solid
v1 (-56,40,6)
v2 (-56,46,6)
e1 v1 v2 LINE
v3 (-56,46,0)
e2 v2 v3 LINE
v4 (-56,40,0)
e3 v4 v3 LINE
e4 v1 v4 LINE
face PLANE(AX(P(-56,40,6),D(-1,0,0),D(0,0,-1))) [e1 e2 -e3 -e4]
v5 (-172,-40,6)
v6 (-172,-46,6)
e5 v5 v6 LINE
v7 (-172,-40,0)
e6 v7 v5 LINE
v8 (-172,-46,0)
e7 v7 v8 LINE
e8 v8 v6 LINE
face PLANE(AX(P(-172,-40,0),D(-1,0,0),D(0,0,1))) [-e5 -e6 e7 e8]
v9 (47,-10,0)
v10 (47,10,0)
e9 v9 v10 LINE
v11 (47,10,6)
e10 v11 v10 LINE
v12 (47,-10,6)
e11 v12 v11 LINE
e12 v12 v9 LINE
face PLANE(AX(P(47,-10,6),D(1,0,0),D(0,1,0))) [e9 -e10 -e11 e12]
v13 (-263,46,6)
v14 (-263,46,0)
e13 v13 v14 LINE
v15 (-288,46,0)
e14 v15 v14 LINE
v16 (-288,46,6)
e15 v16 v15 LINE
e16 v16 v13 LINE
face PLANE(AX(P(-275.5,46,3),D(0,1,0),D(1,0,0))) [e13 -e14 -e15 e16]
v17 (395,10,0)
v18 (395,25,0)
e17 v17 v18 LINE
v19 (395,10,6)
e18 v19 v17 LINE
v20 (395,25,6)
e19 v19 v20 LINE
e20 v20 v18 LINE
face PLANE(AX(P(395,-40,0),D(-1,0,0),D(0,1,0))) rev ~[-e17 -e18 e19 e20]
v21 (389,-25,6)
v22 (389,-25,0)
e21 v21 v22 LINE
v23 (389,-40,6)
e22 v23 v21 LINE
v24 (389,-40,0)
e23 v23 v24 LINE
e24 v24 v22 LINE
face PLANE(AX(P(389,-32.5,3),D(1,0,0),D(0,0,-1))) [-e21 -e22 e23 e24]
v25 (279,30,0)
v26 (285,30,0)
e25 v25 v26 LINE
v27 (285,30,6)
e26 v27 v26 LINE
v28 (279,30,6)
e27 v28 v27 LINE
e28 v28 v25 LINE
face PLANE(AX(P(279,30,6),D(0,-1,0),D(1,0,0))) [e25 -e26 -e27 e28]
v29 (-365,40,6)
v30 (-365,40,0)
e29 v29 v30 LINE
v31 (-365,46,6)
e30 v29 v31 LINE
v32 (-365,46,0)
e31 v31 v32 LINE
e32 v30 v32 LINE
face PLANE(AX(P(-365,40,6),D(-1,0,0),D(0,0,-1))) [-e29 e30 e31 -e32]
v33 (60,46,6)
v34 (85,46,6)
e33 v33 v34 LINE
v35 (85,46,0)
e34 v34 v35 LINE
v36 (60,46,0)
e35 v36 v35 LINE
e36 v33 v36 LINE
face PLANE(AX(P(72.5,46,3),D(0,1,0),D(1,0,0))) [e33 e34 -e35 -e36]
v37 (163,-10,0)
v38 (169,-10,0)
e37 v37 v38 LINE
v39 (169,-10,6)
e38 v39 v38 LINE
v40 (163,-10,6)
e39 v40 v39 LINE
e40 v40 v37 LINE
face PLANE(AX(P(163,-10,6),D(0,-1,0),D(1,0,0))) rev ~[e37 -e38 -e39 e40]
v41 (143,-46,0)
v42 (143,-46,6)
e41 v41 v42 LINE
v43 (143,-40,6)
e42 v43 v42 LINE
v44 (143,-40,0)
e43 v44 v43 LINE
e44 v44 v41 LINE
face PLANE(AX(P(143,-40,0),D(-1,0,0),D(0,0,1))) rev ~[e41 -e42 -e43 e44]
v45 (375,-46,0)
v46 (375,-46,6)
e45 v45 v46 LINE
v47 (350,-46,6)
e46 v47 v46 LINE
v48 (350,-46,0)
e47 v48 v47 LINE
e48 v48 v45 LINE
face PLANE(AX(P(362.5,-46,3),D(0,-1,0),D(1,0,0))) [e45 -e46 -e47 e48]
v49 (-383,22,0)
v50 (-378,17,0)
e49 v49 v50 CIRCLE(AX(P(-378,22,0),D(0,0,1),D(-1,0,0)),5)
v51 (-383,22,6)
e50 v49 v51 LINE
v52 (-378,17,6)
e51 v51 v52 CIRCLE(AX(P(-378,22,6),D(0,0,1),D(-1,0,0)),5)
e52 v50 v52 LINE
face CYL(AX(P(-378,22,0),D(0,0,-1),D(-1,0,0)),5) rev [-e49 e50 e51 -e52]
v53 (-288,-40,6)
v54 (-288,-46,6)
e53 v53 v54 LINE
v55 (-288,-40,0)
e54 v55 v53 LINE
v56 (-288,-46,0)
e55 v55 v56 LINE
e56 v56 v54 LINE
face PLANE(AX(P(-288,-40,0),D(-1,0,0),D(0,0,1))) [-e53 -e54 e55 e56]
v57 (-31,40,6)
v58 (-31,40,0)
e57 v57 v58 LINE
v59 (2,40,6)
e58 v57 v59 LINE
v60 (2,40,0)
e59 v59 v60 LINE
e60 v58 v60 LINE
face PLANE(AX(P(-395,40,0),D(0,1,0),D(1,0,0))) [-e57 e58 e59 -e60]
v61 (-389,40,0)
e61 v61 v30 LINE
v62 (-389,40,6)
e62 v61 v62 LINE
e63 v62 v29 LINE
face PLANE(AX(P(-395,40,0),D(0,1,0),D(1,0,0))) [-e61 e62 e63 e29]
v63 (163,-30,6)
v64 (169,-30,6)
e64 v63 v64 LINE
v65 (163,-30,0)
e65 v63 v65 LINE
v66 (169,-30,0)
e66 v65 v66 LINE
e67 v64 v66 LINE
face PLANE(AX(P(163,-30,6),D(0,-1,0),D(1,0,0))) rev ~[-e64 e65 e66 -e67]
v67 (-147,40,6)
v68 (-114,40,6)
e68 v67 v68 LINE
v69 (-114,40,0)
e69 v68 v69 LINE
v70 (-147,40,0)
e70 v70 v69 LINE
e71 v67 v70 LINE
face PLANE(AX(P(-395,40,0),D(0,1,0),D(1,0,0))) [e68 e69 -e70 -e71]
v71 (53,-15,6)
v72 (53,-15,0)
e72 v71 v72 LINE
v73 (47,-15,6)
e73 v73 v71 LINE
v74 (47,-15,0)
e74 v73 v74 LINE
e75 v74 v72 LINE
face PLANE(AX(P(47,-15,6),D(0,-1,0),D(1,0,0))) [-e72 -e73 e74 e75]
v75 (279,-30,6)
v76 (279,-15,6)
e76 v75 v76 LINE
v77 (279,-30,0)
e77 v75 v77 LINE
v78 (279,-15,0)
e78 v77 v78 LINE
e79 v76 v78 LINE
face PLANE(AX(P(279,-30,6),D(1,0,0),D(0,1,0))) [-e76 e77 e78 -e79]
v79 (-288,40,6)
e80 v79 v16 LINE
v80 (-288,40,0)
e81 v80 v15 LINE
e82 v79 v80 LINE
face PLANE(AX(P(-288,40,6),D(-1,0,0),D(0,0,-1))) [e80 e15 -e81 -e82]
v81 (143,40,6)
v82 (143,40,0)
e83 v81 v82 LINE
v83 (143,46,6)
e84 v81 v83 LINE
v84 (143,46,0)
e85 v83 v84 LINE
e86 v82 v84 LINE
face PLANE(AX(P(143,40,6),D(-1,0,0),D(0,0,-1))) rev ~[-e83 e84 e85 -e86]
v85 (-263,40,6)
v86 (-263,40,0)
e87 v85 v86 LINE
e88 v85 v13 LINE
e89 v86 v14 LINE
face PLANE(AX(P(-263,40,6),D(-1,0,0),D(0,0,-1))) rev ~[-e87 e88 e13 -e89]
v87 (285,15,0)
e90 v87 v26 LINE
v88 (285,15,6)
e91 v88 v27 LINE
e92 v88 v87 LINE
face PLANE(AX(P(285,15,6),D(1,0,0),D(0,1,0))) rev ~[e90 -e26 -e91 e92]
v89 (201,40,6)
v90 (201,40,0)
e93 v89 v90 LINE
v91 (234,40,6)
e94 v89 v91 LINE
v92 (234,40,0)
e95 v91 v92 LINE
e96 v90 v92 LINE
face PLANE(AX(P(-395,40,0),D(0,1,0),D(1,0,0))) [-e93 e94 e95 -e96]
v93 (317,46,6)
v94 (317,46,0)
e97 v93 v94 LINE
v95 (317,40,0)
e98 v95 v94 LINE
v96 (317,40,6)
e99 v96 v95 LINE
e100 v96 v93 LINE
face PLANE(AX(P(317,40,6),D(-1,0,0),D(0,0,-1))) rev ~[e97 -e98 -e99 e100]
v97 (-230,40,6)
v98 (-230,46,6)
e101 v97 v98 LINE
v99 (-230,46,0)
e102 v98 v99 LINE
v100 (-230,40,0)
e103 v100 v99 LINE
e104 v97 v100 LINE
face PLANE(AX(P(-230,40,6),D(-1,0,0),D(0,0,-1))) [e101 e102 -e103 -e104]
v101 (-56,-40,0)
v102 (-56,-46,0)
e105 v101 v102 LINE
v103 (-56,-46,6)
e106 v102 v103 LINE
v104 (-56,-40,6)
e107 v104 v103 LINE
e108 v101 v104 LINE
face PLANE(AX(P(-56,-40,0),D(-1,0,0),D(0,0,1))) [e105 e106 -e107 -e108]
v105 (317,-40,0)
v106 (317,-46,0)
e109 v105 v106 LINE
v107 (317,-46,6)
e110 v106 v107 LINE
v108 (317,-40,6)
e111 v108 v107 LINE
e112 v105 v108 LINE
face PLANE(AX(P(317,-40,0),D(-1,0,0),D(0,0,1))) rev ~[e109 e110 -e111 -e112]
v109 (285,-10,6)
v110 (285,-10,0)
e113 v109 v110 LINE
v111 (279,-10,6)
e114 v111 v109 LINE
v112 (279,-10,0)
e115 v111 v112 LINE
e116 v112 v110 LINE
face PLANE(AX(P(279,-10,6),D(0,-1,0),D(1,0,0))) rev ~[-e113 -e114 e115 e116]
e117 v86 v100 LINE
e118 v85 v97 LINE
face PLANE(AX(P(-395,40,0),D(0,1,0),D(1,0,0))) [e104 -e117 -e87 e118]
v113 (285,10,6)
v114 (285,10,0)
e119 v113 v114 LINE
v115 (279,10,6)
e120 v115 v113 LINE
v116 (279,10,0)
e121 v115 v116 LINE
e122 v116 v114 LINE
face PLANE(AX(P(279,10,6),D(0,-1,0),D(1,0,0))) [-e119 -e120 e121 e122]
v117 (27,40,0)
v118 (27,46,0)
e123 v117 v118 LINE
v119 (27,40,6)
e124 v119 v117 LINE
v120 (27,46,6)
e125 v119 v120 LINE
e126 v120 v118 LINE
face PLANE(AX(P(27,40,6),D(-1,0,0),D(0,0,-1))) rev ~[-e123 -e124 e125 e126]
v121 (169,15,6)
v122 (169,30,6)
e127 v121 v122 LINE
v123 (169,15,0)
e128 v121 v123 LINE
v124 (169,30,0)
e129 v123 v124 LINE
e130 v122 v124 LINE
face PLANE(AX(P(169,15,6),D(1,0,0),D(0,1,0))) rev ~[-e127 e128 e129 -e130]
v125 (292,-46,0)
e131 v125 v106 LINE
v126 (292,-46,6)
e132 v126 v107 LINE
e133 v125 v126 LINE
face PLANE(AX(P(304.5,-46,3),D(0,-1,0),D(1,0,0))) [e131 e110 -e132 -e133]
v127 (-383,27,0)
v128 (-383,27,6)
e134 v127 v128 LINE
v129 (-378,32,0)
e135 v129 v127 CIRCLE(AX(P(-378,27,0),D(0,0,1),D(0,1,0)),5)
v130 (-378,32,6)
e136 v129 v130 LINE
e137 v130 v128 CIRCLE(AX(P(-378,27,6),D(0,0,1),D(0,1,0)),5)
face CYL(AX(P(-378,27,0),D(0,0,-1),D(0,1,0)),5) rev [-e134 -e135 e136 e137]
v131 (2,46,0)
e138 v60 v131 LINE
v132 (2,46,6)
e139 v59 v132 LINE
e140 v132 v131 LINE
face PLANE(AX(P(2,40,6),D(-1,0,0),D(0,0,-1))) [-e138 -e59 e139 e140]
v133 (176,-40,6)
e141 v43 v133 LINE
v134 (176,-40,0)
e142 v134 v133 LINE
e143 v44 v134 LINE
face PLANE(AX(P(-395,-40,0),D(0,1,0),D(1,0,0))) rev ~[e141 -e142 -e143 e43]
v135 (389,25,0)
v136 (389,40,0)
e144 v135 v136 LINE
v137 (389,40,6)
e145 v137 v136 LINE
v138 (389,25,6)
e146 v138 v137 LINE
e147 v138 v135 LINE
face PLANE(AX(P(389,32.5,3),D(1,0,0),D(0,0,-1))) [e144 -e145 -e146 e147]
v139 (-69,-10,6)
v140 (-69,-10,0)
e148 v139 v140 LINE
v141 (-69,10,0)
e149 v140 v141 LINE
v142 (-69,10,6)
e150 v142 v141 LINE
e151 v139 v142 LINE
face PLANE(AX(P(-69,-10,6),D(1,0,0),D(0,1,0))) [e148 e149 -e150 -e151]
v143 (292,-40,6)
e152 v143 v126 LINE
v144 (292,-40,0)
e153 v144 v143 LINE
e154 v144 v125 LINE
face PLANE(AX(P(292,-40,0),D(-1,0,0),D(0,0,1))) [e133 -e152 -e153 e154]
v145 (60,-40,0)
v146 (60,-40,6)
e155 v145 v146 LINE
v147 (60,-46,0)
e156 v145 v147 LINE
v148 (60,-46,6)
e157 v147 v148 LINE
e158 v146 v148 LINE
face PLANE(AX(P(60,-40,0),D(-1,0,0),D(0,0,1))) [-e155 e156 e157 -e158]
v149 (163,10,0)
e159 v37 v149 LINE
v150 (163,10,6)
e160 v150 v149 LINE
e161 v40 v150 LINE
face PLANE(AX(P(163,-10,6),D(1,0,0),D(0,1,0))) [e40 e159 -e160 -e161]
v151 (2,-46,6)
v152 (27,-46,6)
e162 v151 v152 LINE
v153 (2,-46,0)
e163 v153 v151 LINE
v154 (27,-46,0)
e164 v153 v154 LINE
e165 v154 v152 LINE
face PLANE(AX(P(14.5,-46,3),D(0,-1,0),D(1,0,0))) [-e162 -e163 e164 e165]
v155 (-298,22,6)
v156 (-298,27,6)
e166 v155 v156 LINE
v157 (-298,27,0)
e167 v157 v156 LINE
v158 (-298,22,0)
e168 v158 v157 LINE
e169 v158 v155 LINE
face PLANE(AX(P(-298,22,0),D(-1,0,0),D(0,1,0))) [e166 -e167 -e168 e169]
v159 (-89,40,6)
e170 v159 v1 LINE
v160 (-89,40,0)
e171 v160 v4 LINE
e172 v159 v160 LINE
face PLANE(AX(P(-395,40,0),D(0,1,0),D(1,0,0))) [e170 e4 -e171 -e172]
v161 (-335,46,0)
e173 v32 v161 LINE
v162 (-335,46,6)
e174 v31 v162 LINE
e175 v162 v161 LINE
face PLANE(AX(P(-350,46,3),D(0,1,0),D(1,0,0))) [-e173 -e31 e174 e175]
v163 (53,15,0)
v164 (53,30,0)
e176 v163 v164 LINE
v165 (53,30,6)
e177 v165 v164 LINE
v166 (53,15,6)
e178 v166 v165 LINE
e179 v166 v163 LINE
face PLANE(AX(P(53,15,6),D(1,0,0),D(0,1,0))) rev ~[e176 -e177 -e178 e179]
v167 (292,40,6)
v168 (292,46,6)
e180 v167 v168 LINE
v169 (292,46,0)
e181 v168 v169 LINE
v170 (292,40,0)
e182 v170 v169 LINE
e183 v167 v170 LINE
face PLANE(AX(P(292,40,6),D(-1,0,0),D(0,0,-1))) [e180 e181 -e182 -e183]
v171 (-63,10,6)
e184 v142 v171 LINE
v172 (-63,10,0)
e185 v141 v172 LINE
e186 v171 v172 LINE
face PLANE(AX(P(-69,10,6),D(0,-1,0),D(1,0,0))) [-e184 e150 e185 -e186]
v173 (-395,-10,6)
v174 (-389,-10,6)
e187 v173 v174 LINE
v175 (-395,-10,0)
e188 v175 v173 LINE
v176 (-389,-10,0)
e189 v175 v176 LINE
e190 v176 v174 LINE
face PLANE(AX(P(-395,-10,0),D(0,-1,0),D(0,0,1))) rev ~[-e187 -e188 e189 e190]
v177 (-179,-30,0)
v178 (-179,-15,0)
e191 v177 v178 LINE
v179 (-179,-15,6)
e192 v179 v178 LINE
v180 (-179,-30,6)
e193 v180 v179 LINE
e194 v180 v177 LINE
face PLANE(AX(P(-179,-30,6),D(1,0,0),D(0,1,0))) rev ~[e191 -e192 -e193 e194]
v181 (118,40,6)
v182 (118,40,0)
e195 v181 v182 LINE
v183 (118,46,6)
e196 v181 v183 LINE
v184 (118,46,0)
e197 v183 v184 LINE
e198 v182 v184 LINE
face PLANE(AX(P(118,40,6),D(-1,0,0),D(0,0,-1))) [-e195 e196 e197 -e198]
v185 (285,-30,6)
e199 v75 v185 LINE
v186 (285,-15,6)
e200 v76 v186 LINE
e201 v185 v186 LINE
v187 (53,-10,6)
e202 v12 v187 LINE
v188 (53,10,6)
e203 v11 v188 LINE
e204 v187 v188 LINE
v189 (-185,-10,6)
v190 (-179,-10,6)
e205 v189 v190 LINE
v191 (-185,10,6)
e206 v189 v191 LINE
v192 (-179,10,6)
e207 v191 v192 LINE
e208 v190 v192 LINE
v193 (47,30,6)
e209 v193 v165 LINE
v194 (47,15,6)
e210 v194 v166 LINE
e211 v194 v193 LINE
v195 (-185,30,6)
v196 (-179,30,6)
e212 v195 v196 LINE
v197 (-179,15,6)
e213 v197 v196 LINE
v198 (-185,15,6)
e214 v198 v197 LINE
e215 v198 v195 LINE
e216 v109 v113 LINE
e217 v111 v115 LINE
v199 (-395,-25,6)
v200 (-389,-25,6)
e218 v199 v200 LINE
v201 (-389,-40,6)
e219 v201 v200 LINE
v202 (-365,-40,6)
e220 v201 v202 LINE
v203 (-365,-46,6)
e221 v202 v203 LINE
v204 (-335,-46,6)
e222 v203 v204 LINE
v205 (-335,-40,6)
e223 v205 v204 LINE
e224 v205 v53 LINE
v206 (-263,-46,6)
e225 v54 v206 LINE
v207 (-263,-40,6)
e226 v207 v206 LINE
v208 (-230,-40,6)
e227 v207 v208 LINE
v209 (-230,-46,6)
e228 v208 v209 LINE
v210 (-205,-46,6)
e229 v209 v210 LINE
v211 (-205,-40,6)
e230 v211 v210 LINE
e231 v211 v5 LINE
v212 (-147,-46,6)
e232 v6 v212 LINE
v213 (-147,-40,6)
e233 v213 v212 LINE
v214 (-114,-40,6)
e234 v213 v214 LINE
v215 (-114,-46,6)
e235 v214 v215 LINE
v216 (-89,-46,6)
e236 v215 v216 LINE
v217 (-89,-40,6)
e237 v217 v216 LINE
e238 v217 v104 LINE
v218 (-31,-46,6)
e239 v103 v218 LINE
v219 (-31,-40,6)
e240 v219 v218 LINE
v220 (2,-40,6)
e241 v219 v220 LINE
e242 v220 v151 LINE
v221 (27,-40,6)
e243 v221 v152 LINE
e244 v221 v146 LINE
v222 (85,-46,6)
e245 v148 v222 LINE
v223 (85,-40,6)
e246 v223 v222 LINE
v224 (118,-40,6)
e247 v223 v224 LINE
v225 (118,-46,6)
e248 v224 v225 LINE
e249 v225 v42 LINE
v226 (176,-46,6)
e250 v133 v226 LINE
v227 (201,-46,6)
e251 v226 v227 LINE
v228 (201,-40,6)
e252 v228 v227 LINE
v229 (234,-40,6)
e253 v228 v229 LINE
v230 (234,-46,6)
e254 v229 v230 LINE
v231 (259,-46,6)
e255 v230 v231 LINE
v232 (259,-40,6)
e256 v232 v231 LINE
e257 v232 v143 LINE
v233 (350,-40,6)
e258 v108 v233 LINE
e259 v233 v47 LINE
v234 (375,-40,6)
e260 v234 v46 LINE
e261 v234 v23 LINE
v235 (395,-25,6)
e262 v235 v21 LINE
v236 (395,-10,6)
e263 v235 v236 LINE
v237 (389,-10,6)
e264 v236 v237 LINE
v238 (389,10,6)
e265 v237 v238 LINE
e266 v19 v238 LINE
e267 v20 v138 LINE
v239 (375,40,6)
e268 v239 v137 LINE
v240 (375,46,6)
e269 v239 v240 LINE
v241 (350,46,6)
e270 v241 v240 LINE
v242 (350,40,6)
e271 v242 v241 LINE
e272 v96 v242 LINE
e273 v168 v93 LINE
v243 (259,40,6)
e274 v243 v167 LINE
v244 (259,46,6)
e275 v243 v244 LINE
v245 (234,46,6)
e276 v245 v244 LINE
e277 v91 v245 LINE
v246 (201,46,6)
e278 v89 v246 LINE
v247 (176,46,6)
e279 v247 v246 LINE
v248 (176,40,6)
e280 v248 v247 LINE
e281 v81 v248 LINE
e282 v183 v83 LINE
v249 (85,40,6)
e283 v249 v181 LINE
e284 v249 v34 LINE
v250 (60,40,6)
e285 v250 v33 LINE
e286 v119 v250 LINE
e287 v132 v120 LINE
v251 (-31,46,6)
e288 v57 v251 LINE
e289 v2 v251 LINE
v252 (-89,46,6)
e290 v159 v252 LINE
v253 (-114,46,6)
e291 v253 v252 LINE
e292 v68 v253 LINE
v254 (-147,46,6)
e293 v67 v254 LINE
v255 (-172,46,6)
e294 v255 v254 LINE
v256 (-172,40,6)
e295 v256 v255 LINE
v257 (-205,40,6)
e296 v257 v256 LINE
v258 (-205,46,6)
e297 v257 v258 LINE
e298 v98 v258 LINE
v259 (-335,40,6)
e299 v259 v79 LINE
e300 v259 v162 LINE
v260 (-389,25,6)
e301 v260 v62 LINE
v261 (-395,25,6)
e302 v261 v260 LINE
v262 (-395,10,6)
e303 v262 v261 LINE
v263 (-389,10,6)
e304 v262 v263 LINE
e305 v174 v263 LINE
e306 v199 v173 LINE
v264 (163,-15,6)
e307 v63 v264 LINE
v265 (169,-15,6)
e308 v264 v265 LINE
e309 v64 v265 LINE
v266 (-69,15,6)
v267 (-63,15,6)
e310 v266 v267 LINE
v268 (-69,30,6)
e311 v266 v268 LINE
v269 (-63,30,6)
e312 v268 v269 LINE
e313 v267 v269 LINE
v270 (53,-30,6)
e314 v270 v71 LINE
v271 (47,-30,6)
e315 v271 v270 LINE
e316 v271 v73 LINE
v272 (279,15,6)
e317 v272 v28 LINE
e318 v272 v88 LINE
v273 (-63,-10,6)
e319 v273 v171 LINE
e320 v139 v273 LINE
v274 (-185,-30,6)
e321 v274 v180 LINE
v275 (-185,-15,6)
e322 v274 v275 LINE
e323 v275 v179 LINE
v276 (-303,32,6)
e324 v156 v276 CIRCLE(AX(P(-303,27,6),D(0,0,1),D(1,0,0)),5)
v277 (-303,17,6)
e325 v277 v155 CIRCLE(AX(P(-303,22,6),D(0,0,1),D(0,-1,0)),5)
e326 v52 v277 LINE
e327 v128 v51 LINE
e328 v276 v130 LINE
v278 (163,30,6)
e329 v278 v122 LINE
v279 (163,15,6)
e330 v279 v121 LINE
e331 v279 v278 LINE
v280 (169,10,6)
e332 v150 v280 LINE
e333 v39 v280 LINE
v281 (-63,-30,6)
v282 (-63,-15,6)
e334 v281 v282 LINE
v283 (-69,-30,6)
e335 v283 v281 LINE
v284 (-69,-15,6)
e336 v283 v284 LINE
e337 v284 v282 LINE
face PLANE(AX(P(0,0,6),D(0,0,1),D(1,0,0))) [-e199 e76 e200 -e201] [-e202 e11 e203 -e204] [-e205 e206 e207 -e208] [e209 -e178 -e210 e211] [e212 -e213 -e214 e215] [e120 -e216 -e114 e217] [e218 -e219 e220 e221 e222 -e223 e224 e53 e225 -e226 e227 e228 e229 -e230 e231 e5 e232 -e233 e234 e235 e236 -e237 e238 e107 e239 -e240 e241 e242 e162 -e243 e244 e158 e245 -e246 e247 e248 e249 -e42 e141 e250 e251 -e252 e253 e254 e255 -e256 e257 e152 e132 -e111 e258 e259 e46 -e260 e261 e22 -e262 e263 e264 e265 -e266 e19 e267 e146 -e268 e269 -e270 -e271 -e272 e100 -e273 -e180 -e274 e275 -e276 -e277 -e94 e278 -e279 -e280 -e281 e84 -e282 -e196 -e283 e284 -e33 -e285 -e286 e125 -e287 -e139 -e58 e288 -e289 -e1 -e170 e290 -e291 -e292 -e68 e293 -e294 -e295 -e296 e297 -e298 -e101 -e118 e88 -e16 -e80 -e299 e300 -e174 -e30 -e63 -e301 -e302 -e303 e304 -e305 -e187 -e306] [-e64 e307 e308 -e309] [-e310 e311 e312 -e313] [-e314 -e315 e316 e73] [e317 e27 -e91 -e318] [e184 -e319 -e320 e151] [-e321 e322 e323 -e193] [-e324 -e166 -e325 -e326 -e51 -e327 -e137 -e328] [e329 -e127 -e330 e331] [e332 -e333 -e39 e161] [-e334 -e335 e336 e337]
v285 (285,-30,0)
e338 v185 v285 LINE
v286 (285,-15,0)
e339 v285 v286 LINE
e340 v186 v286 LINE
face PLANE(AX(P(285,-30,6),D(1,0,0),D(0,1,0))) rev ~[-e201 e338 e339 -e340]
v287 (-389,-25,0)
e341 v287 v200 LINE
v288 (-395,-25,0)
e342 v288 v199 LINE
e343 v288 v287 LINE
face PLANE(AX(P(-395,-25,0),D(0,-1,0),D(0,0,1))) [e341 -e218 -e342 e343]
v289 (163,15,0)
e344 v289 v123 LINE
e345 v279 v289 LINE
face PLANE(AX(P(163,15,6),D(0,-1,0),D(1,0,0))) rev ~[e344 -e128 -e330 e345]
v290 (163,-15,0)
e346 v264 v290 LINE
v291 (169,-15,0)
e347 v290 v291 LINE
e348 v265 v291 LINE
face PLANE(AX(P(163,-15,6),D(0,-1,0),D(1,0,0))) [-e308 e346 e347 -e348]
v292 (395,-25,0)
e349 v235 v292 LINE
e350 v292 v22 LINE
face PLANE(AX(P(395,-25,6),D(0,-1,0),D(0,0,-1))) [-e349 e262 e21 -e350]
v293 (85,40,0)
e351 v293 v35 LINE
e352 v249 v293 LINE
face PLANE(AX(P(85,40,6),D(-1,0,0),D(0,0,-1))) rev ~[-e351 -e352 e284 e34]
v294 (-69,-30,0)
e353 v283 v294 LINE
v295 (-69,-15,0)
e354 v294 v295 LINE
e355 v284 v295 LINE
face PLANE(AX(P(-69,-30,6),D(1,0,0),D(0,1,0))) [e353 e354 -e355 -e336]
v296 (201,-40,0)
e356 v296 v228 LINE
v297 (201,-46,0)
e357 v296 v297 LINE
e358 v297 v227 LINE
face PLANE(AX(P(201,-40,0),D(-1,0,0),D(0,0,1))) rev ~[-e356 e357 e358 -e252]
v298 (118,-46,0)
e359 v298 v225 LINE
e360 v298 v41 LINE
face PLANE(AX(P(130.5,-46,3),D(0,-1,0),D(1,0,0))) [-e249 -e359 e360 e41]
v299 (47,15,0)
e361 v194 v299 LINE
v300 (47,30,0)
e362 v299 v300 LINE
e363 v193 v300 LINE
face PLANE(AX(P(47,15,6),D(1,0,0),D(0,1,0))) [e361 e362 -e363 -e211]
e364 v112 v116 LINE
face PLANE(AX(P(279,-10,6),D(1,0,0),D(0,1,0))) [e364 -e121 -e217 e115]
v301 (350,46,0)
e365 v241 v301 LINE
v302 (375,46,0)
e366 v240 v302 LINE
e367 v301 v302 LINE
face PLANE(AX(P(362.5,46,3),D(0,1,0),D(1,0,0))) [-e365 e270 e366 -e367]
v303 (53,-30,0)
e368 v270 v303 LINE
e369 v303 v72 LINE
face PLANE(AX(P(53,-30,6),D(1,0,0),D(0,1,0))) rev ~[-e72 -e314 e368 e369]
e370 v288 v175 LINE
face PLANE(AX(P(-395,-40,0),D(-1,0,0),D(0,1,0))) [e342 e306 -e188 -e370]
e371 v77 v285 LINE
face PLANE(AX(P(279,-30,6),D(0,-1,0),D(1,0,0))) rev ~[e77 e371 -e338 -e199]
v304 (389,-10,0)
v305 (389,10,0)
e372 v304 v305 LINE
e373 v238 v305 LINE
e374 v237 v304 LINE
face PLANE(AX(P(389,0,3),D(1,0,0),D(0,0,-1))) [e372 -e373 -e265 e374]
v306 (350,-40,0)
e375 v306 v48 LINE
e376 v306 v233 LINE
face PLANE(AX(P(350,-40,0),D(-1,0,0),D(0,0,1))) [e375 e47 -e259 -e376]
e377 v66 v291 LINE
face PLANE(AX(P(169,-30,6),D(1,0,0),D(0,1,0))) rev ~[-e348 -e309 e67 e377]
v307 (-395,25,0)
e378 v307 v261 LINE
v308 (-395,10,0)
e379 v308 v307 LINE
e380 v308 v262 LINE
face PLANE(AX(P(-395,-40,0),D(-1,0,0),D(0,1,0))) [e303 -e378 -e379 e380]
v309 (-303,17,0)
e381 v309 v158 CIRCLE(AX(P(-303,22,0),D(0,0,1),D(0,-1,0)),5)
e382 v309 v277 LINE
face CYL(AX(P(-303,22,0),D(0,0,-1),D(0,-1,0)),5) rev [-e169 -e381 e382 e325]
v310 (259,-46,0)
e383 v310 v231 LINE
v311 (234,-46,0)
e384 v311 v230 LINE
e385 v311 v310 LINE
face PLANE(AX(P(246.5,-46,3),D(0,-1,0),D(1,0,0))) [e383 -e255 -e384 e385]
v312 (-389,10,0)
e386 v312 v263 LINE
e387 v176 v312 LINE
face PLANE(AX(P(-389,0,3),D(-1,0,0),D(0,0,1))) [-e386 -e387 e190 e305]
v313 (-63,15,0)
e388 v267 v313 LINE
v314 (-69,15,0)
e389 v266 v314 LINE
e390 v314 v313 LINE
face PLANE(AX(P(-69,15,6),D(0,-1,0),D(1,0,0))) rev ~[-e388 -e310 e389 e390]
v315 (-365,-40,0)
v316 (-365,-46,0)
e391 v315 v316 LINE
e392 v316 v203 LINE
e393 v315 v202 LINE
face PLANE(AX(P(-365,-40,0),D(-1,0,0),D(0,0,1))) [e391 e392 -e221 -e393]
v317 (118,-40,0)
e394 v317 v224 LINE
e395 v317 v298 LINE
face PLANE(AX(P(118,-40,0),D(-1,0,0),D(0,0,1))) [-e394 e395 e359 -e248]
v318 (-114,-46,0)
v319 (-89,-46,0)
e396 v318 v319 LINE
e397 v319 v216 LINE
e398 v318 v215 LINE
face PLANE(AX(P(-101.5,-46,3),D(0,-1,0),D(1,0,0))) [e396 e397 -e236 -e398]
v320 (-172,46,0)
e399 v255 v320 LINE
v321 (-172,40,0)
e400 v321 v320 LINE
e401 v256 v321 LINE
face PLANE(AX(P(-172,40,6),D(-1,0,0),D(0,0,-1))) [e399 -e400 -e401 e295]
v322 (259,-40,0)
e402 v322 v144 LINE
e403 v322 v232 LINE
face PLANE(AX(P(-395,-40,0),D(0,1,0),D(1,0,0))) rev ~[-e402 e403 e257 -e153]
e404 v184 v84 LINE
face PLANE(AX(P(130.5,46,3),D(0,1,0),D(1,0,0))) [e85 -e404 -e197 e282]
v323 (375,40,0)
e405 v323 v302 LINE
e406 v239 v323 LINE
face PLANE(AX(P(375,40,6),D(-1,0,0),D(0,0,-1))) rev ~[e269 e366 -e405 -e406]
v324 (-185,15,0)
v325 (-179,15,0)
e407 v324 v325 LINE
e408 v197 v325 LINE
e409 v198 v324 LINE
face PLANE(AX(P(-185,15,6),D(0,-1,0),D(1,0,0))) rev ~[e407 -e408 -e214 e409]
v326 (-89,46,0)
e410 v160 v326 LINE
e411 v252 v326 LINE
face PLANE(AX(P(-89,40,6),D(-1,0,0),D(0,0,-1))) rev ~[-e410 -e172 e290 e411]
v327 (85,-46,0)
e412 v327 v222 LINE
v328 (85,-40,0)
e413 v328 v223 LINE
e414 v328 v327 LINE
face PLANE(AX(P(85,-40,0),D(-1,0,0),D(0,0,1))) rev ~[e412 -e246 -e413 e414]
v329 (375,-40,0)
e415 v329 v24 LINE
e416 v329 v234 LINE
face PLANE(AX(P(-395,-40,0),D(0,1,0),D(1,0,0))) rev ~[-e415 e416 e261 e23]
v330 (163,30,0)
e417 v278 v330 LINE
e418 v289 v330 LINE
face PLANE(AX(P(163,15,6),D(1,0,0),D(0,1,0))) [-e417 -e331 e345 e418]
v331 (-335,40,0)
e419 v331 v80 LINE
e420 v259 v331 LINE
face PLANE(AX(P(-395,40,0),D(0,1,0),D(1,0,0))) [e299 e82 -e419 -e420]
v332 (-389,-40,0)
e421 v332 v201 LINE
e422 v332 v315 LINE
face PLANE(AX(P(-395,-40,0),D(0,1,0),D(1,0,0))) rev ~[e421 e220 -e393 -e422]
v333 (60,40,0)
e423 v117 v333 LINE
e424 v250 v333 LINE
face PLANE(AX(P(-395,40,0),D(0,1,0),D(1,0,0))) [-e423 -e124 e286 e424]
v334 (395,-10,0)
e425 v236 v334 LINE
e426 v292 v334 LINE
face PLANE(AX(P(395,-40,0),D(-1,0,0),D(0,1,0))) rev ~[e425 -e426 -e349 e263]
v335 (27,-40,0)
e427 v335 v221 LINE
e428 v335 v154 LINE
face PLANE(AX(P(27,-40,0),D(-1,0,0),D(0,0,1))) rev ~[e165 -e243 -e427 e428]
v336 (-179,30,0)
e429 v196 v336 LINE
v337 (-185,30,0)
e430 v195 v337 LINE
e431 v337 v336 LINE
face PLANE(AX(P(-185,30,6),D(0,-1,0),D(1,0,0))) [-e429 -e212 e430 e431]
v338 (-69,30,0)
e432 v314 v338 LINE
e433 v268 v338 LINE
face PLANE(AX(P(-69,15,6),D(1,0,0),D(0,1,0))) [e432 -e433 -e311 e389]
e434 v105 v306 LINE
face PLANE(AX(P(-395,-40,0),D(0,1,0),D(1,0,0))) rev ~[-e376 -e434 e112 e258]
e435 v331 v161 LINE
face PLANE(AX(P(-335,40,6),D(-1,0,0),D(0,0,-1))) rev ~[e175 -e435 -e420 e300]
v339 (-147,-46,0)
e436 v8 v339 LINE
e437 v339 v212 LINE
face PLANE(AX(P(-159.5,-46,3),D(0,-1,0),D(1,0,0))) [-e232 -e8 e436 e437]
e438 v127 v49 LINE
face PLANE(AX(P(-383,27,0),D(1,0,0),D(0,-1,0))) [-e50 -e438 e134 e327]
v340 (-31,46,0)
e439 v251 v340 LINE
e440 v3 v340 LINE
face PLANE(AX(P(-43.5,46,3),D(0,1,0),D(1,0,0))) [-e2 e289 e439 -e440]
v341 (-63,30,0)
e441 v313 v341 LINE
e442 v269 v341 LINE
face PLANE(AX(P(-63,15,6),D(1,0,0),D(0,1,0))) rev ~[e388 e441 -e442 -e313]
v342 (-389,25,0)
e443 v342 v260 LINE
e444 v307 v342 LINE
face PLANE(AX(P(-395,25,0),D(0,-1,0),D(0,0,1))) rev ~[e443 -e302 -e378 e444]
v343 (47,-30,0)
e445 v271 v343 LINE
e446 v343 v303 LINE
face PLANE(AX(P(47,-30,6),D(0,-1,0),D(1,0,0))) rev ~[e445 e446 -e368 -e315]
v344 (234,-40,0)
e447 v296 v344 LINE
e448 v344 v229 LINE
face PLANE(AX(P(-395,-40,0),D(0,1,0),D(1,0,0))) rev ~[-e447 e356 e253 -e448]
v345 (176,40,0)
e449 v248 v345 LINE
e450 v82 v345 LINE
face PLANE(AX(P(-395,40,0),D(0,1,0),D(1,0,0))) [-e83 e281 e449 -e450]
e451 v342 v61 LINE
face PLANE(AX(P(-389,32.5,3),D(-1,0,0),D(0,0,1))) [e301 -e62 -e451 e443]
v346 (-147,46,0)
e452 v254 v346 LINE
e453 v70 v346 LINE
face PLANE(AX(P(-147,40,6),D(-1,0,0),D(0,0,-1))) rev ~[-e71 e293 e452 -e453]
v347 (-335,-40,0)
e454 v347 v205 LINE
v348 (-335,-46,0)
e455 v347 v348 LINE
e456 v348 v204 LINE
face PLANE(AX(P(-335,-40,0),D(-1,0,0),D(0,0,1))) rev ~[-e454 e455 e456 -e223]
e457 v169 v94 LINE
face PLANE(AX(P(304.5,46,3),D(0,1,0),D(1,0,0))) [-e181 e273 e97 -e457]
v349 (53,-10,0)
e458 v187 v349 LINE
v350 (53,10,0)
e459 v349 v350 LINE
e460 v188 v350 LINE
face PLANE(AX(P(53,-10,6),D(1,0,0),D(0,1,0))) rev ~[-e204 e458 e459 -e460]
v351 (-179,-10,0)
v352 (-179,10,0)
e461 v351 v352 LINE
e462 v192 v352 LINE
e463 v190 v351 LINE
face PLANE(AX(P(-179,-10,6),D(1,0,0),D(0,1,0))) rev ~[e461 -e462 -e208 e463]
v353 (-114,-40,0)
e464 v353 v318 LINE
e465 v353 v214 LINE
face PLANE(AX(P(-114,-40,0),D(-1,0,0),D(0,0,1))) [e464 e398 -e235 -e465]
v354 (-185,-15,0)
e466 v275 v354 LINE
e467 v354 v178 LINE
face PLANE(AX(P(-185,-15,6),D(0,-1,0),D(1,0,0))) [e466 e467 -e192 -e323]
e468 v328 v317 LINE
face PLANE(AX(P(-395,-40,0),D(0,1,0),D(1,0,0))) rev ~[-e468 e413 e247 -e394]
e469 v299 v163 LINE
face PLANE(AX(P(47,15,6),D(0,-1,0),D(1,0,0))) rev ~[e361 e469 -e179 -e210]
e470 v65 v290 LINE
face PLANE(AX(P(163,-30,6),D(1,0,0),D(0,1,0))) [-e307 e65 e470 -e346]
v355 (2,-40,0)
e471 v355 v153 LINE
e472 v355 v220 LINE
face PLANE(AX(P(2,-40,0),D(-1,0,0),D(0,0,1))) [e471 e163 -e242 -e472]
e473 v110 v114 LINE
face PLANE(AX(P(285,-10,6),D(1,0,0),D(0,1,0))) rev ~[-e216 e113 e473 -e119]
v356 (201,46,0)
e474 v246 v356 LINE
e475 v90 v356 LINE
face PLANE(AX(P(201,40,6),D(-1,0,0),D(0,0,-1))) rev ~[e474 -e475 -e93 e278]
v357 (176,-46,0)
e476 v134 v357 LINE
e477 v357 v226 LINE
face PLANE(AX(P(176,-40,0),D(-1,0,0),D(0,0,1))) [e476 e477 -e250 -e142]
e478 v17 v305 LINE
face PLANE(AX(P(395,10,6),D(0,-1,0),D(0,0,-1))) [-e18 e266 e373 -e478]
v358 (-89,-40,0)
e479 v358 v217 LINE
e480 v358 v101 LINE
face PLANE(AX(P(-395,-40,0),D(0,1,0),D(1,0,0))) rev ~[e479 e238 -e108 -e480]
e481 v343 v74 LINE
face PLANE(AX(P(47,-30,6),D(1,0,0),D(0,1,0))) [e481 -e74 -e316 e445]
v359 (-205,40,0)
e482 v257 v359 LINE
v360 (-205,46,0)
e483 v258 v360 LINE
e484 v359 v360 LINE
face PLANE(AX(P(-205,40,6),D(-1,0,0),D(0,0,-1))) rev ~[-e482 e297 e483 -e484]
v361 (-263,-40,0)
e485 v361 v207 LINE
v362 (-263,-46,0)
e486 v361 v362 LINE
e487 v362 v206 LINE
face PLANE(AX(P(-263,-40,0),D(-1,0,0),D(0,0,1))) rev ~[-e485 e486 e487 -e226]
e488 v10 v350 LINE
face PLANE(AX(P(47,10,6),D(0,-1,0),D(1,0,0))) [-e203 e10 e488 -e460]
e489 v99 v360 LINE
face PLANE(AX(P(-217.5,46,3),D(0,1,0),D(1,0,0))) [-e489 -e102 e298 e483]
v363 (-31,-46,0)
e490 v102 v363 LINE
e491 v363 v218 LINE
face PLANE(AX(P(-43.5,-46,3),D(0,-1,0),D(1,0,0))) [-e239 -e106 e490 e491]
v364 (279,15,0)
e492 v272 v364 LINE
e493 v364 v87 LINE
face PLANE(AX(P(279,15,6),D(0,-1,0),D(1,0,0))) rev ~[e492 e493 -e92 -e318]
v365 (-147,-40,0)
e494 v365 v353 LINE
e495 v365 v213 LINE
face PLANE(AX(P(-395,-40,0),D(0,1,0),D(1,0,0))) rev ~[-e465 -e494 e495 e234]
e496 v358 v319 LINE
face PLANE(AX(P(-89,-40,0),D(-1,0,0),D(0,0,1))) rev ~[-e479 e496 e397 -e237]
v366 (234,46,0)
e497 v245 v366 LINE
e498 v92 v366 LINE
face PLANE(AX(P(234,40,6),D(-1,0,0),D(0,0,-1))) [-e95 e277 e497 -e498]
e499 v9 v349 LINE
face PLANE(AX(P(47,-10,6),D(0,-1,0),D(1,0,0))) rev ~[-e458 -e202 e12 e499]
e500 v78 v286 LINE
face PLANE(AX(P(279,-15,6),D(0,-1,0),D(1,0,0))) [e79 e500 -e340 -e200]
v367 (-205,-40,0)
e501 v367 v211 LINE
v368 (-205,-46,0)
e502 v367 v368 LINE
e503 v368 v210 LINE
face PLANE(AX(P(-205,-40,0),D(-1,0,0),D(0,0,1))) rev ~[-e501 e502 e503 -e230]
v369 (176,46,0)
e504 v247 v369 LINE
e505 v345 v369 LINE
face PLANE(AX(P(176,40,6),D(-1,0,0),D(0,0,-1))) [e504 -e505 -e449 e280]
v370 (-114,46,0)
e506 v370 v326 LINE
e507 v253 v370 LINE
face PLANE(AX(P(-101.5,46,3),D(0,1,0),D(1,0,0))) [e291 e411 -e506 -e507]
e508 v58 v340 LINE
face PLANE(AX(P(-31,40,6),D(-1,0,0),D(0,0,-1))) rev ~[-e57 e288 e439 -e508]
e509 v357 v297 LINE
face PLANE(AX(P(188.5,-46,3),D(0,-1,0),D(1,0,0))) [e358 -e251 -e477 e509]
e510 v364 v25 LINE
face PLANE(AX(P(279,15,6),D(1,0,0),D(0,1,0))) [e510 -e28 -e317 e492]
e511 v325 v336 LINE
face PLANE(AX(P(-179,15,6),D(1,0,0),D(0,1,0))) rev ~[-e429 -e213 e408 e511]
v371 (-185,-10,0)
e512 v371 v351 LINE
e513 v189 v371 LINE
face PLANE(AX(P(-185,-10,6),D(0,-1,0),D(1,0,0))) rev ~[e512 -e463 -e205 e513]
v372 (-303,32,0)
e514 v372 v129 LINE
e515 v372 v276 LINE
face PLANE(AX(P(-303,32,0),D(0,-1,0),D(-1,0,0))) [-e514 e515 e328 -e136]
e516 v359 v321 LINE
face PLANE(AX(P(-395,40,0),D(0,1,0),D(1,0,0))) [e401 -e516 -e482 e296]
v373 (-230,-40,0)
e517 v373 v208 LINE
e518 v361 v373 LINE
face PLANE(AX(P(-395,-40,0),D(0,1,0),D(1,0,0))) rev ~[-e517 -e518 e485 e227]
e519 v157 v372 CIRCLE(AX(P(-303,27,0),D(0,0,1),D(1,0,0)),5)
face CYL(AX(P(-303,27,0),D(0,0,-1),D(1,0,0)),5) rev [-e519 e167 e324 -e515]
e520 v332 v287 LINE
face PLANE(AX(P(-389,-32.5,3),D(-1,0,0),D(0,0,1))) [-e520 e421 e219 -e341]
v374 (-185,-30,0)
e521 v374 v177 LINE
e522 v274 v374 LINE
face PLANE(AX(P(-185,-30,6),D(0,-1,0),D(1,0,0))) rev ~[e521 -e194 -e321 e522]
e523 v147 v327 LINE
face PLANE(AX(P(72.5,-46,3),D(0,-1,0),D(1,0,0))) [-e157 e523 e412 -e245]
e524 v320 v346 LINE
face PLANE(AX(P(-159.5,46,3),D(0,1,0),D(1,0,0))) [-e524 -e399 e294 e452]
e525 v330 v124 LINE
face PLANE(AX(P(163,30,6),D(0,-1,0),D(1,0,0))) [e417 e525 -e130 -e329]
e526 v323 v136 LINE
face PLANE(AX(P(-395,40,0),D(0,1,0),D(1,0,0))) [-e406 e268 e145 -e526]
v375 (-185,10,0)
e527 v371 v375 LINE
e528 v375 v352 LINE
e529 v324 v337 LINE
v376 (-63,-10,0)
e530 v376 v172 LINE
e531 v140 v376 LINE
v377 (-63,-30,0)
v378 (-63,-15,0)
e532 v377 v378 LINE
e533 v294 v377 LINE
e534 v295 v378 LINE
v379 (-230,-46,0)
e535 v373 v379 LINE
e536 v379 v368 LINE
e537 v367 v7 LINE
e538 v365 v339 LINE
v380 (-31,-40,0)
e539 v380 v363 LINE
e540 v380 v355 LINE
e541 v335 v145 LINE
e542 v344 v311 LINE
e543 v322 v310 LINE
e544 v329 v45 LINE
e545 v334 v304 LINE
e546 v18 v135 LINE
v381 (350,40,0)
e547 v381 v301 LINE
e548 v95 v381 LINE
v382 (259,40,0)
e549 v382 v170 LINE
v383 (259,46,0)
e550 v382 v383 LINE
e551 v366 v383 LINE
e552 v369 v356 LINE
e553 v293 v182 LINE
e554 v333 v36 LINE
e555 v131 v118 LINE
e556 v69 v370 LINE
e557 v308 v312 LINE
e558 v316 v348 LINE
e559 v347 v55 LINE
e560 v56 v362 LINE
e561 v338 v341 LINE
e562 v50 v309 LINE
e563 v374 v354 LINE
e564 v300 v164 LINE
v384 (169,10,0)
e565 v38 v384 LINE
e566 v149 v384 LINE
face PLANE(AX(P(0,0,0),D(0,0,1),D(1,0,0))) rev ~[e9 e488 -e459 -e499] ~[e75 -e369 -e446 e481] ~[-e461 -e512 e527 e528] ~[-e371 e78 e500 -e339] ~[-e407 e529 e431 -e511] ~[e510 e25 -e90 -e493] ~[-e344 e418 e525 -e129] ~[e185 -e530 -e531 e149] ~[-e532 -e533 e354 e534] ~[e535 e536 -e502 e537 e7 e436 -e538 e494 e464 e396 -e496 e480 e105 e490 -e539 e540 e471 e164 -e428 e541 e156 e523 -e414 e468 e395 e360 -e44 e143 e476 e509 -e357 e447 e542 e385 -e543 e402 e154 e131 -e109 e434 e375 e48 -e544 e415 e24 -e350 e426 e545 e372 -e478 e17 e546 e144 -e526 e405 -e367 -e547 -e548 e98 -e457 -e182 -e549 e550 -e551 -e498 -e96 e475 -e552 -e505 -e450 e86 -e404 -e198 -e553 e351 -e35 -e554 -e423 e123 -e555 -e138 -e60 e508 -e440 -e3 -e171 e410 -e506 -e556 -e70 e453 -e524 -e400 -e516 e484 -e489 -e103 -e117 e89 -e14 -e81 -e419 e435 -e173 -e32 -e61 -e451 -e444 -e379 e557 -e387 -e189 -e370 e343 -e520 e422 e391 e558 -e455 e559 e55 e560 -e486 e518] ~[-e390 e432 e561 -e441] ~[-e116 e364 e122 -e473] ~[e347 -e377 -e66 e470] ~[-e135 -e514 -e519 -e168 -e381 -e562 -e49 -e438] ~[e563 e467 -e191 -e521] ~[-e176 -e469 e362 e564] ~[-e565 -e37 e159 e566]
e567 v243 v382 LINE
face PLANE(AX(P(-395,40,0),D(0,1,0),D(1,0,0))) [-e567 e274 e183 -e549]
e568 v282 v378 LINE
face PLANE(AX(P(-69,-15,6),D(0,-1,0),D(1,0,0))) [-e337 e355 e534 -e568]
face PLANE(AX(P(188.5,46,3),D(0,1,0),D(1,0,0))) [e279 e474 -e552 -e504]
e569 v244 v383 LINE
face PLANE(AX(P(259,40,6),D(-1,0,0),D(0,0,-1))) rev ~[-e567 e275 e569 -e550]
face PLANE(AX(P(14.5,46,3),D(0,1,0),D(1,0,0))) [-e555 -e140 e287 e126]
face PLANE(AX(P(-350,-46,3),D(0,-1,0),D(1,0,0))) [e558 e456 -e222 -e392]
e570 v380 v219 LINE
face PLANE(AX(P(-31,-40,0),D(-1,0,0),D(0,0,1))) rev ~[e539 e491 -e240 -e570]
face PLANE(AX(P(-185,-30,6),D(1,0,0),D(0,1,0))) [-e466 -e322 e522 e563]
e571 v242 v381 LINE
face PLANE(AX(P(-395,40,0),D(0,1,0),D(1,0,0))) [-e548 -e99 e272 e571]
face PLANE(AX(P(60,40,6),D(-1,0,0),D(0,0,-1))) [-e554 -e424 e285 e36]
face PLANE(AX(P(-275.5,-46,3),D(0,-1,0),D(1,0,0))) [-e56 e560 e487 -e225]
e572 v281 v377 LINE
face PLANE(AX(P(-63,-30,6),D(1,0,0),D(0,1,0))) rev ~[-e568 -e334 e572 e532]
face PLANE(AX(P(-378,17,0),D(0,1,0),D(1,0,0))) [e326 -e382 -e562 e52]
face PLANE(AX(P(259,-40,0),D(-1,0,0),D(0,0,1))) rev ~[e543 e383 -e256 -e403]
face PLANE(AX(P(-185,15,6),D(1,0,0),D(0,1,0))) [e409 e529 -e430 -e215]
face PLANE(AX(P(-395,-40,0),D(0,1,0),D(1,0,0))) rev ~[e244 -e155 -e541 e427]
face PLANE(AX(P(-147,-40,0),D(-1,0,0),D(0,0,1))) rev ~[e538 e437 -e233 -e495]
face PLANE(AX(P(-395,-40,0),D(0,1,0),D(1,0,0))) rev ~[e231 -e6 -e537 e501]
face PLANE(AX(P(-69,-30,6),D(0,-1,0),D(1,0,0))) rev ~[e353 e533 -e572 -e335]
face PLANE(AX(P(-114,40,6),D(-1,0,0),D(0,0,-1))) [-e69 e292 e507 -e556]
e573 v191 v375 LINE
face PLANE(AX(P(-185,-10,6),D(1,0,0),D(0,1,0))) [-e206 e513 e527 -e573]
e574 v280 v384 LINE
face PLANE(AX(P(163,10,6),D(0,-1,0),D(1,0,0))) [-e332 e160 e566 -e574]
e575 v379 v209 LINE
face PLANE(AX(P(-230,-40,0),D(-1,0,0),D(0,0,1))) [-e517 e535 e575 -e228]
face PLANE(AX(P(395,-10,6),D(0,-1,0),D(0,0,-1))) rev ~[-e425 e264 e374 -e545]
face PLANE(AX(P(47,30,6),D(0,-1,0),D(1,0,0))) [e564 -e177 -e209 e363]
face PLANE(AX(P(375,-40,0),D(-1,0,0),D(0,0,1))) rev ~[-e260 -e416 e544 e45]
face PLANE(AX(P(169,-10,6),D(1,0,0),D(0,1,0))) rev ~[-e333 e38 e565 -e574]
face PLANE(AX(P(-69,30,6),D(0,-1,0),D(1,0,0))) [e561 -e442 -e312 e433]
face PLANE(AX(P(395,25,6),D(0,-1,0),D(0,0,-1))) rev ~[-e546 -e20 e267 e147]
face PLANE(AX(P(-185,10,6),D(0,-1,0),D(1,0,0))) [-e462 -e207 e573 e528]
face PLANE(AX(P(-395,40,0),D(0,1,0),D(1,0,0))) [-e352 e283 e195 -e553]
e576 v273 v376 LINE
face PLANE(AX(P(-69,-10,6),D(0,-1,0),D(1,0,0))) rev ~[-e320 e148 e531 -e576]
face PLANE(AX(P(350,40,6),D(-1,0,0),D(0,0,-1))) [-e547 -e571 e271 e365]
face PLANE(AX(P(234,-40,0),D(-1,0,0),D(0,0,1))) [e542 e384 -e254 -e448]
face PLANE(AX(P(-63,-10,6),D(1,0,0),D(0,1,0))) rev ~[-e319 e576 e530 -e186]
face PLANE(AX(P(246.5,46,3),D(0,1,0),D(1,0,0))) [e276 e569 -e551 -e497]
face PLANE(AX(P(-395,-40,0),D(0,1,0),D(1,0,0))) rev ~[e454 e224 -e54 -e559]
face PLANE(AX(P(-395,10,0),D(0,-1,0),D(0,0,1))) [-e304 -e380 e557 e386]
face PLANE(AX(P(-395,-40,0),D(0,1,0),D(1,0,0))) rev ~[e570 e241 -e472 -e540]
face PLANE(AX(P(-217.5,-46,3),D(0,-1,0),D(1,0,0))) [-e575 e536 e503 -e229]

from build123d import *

# Parameters (mm, degrees)
SKETCH1_W           = 790
SKETCH1_H           = 80
BOSS_EXTRUDE1_DEPTH = 6
SKETCH2_W           = 25
SKETCH2_H           = 6
BOSS_EXTRUDE2_DEPTH = 6
SKETCH3_W           = 25
SKETCH3_H           = 6
SKETCH3_W_2         = 30
BOSS_EXTRUDE3_DEPTH = 6
CUT_EXTRUDE1_DEPTH  = 6
SKETCH5_W           = 6
SKETCH5_H           = 15
SKETCH5_H_2         = 20
CUT_EXTRUDE2_DEPTH  = 6
SKETCH7_W           = 6
SKETCH7_H           = 15
SKETCH7_H_2         = 20
CUT_EXTRUDE3_DEPTH  = 6
SKETCH8_W           = 30
SKETCH8_H           = 6
BOSS_EXTRUDE6_DEPTH = 6
SKETCH9_W           = 6
SKETCH9_H           = 20
SKETCH9_H_2         = 15
CUT_EXTRUDE4_DEPTH  = 6


with BuildPart() as part:
    # Sketch1 → Boss-Extrude1 (new body)
    with BuildSketch(Plane.XY):
        Rectangle(SKETCH1_W, SKETCH1_H)
    extrude(amount=BOSS_EXTRUDE1_DEPTH)

    # Sketch2 → Boss-Extrude2 (add)
    with BuildSketch(Plane(origin=(0, 40, 0), x_dir=(1, 0, 0), z_dir=(0, 1, 0))):
        with Locations((362.5, -3)):
            Rectangle(SKETCH2_W, SKETCH2_H)
        with Locations((304.5, -3)):
            Rectangle(SKETCH2_W, SKETCH2_H)
        with Locations((246.5, -3)):
            Rectangle(SKETCH2_W, SKETCH2_H)
        with Locations((188.5, -3)):
            Rectangle(SKETCH2_W, SKETCH2_H)
        with Locations((130.5, -3)):
            Rectangle(SKETCH2_W, SKETCH2_H)
        with Locations((72.5, -3)):
            Rectangle(SKETCH2_W, SKETCH2_H)
        with Locations((14.5, -3)):
            Rectangle(SKETCH2_W, SKETCH2_H)
        with Locations((-43.5, -3)):
            Rectangle(SKETCH2_W, SKETCH2_H)
        with Locations((-101.5, -3)):
            Rectangle(SKETCH2_W, SKETCH2_H)
        with Locations((-159.5, -3)):
            Rectangle(SKETCH2_W, SKETCH2_H)
        with Locations((-217.5, -3)):
            Rectangle(SKETCH2_W, SKETCH2_H)
        with Locations((-275.5, -3)):
            Rectangle(SKETCH2_W, SKETCH2_H)
    extrude(amount=BOSS_EXTRUDE2_DEPTH)

    # Sketch3 → Boss-Extrude3 (add)
    with BuildSketch(Plane.XZ.offset(40)):
        with Locations((-275.5, 3)):
            Rectangle(SKETCH3_W, SKETCH3_H)
        with Locations((-217.5, 3)):
            Rectangle(SKETCH3_W, SKETCH3_H)
        with Locations((-159.5, 3)):
            Rectangle(SKETCH3_W, SKETCH3_H)
        with Locations((-101.5, 3)):
            Rectangle(SKETCH3_W, SKETCH3_H)
        with Locations((-43.5, 3)):
            Rectangle(SKETCH3_W, SKETCH3_H)
        with Locations((14.5, 3)):
            Rectangle(SKETCH3_W, SKETCH3_H)
        with Locations((72.5, 3)):
            Rectangle(SKETCH3_W, SKETCH3_H)
        with Locations((130.5, 3)):
            Rectangle(SKETCH3_W, SKETCH3_H)
        with Locations((188.5, 3)):
            Rectangle(SKETCH3_W, SKETCH3_H)
        with Locations((246.5, 3)):
            Rectangle(SKETCH3_W, SKETCH3_H)
        with Locations((304.5, 3)):
            Rectangle(SKETCH3_W, SKETCH3_H)
        with Locations((362.5, 3)):
            Rectangle(SKETCH3_W, SKETCH3_H)
        with Locations((-350, 3)):
            Rectangle(SKETCH3_W_2, SKETCH3_H)
    extrude(amount=BOSS_EXTRUDE3_DEPTH)

    # Sketch4 → Cut-Extrude1 (cut)
    with BuildSketch(Plane(origin=(0, 0, 0), x_dir=(-1, 0, 0), z_dir=(0, 0, -1))):
        with BuildLine():
            Line((378, 17), (303, 17))
            ThreePointArc((303, 17), (299.464466094, 18.464466094), (298, 22))
            Line((298, 22), (298, 27))
            ThreePointArc((298, 27), (299.464466094, 30.535533906), (303, 32))
            Line((303, 32), (378, 32))
            ThreePointArc((378, 32), (381.535533906, 30.535533906), (383, 27))
            Line((383, 27), (383, 22))
            ThreePointArc((383, 22), (381.535533906, 18.464466094), (378, 17))
        make_face()
    extrude(amount=-CUT_EXTRUDE1_DEPTH, mode=Mode.SUBTRACT)

    # Sketch5 → Cut-Extrude2 (cut)
    with BuildSketch(Plane.ZY.offset(395)):
        with Locations((3, -32.5)):
            Rectangle(SKETCH5_W, SKETCH5_H)
        with Locations((3, 0)):
            Rectangle(SKETCH5_W, SKETCH5_H_2)
        with Locations((3, 32.5)):
            Rectangle(SKETCH5_W, SKETCH5_H)
    extrude(amount=-CUT_EXTRUDE2_DEPTH, mode=Mode.SUBTRACT)

    # Sketch7 → Cut-Extrude3 (cut)
    with BuildSketch(Plane(origin=(395, 0, 0), x_dir=(0, 0, -1), z_dir=(1, 0, 0))):
        with Locations((-3, 32.5)):
            Rectangle(SKETCH7_W, SKETCH7_H)
        with Locations((-3, 0)):
            Rectangle(SKETCH7_W, SKETCH7_H_2)
        with Locations((-3, -32.5)):
            Rectangle(SKETCH7_W, SKETCH7_H)
    extrude(amount=-CUT_EXTRUDE3_DEPTH, mode=Mode.SUBTRACT)

    # Sketch8 → Boss-Extrude6 (add)
    with BuildSketch(Plane(origin=(0, 40, 0), x_dir=(1, 0, 0), z_dir=(0, 1, 0))):
        with Locations((-350, -3)):
            Rectangle(SKETCH8_W, SKETCH8_H)
    extrude(amount=BOSS_EXTRUDE6_DEPTH)

    # Sketch9 → Cut-Extrude4 (cut)
    with BuildSketch(Plane.XY.offset(6)):
        with Locations((166, 0)):
            Rectangle(SKETCH9_W, SKETCH9_H)
        with Locations((282, 0)):
            Rectangle(SKETCH9_W, SKETCH9_H)
        with Locations((166, -22.5)):
            Rectangle(SKETCH9_W, SKETCH9_H_2)
        with Locations((166, 22.5)):
            Rectangle(SKETCH9_W, SKETCH9_H_2)
        with Locations((50, 0)):
            Rectangle(SKETCH9_W, SKETCH9_H)
        with Locations((50, -22.5)):
            Rectangle(SKETCH9_W, SKETCH9_H_2)
        with Locations((282, -22.5)):
            Rectangle(SKETCH9_W, SKETCH9_H_2)
        with Locations((282, 22.5)):
            Rectangle(SKETCH9_W, SKETCH9_H_2)
        with Locations((50, 22.5)):
            Rectangle(SKETCH9_W, SKETCH9_H_2)
        with Locations((-66, 0)):
            Rectangle(SKETCH9_W, SKETCH9_H)
        with Locations((-66, -22.5)):
            Rectangle(SKETCH9_W, SKETCH9_H_2)
        with Locations((-66, 22.5)):
            Rectangle(SKETCH9_W, SKETCH9_H_2)
        with Locations((-182, 0)):
            Rectangle(SKETCH9_W, SKETCH9_H)
        with Locations((-182, -22.5)):
            Rectangle(SKETCH9_W, SKETCH9_H_2)
        with Locations((-182, 22.5)):
            Rectangle(SKETCH9_W, SKETCH9_H_2)
    extrude(amount=-CUT_EXTRUDE4_DEPTH, mode=Mode.SUBTRACT)


solid = part.part
